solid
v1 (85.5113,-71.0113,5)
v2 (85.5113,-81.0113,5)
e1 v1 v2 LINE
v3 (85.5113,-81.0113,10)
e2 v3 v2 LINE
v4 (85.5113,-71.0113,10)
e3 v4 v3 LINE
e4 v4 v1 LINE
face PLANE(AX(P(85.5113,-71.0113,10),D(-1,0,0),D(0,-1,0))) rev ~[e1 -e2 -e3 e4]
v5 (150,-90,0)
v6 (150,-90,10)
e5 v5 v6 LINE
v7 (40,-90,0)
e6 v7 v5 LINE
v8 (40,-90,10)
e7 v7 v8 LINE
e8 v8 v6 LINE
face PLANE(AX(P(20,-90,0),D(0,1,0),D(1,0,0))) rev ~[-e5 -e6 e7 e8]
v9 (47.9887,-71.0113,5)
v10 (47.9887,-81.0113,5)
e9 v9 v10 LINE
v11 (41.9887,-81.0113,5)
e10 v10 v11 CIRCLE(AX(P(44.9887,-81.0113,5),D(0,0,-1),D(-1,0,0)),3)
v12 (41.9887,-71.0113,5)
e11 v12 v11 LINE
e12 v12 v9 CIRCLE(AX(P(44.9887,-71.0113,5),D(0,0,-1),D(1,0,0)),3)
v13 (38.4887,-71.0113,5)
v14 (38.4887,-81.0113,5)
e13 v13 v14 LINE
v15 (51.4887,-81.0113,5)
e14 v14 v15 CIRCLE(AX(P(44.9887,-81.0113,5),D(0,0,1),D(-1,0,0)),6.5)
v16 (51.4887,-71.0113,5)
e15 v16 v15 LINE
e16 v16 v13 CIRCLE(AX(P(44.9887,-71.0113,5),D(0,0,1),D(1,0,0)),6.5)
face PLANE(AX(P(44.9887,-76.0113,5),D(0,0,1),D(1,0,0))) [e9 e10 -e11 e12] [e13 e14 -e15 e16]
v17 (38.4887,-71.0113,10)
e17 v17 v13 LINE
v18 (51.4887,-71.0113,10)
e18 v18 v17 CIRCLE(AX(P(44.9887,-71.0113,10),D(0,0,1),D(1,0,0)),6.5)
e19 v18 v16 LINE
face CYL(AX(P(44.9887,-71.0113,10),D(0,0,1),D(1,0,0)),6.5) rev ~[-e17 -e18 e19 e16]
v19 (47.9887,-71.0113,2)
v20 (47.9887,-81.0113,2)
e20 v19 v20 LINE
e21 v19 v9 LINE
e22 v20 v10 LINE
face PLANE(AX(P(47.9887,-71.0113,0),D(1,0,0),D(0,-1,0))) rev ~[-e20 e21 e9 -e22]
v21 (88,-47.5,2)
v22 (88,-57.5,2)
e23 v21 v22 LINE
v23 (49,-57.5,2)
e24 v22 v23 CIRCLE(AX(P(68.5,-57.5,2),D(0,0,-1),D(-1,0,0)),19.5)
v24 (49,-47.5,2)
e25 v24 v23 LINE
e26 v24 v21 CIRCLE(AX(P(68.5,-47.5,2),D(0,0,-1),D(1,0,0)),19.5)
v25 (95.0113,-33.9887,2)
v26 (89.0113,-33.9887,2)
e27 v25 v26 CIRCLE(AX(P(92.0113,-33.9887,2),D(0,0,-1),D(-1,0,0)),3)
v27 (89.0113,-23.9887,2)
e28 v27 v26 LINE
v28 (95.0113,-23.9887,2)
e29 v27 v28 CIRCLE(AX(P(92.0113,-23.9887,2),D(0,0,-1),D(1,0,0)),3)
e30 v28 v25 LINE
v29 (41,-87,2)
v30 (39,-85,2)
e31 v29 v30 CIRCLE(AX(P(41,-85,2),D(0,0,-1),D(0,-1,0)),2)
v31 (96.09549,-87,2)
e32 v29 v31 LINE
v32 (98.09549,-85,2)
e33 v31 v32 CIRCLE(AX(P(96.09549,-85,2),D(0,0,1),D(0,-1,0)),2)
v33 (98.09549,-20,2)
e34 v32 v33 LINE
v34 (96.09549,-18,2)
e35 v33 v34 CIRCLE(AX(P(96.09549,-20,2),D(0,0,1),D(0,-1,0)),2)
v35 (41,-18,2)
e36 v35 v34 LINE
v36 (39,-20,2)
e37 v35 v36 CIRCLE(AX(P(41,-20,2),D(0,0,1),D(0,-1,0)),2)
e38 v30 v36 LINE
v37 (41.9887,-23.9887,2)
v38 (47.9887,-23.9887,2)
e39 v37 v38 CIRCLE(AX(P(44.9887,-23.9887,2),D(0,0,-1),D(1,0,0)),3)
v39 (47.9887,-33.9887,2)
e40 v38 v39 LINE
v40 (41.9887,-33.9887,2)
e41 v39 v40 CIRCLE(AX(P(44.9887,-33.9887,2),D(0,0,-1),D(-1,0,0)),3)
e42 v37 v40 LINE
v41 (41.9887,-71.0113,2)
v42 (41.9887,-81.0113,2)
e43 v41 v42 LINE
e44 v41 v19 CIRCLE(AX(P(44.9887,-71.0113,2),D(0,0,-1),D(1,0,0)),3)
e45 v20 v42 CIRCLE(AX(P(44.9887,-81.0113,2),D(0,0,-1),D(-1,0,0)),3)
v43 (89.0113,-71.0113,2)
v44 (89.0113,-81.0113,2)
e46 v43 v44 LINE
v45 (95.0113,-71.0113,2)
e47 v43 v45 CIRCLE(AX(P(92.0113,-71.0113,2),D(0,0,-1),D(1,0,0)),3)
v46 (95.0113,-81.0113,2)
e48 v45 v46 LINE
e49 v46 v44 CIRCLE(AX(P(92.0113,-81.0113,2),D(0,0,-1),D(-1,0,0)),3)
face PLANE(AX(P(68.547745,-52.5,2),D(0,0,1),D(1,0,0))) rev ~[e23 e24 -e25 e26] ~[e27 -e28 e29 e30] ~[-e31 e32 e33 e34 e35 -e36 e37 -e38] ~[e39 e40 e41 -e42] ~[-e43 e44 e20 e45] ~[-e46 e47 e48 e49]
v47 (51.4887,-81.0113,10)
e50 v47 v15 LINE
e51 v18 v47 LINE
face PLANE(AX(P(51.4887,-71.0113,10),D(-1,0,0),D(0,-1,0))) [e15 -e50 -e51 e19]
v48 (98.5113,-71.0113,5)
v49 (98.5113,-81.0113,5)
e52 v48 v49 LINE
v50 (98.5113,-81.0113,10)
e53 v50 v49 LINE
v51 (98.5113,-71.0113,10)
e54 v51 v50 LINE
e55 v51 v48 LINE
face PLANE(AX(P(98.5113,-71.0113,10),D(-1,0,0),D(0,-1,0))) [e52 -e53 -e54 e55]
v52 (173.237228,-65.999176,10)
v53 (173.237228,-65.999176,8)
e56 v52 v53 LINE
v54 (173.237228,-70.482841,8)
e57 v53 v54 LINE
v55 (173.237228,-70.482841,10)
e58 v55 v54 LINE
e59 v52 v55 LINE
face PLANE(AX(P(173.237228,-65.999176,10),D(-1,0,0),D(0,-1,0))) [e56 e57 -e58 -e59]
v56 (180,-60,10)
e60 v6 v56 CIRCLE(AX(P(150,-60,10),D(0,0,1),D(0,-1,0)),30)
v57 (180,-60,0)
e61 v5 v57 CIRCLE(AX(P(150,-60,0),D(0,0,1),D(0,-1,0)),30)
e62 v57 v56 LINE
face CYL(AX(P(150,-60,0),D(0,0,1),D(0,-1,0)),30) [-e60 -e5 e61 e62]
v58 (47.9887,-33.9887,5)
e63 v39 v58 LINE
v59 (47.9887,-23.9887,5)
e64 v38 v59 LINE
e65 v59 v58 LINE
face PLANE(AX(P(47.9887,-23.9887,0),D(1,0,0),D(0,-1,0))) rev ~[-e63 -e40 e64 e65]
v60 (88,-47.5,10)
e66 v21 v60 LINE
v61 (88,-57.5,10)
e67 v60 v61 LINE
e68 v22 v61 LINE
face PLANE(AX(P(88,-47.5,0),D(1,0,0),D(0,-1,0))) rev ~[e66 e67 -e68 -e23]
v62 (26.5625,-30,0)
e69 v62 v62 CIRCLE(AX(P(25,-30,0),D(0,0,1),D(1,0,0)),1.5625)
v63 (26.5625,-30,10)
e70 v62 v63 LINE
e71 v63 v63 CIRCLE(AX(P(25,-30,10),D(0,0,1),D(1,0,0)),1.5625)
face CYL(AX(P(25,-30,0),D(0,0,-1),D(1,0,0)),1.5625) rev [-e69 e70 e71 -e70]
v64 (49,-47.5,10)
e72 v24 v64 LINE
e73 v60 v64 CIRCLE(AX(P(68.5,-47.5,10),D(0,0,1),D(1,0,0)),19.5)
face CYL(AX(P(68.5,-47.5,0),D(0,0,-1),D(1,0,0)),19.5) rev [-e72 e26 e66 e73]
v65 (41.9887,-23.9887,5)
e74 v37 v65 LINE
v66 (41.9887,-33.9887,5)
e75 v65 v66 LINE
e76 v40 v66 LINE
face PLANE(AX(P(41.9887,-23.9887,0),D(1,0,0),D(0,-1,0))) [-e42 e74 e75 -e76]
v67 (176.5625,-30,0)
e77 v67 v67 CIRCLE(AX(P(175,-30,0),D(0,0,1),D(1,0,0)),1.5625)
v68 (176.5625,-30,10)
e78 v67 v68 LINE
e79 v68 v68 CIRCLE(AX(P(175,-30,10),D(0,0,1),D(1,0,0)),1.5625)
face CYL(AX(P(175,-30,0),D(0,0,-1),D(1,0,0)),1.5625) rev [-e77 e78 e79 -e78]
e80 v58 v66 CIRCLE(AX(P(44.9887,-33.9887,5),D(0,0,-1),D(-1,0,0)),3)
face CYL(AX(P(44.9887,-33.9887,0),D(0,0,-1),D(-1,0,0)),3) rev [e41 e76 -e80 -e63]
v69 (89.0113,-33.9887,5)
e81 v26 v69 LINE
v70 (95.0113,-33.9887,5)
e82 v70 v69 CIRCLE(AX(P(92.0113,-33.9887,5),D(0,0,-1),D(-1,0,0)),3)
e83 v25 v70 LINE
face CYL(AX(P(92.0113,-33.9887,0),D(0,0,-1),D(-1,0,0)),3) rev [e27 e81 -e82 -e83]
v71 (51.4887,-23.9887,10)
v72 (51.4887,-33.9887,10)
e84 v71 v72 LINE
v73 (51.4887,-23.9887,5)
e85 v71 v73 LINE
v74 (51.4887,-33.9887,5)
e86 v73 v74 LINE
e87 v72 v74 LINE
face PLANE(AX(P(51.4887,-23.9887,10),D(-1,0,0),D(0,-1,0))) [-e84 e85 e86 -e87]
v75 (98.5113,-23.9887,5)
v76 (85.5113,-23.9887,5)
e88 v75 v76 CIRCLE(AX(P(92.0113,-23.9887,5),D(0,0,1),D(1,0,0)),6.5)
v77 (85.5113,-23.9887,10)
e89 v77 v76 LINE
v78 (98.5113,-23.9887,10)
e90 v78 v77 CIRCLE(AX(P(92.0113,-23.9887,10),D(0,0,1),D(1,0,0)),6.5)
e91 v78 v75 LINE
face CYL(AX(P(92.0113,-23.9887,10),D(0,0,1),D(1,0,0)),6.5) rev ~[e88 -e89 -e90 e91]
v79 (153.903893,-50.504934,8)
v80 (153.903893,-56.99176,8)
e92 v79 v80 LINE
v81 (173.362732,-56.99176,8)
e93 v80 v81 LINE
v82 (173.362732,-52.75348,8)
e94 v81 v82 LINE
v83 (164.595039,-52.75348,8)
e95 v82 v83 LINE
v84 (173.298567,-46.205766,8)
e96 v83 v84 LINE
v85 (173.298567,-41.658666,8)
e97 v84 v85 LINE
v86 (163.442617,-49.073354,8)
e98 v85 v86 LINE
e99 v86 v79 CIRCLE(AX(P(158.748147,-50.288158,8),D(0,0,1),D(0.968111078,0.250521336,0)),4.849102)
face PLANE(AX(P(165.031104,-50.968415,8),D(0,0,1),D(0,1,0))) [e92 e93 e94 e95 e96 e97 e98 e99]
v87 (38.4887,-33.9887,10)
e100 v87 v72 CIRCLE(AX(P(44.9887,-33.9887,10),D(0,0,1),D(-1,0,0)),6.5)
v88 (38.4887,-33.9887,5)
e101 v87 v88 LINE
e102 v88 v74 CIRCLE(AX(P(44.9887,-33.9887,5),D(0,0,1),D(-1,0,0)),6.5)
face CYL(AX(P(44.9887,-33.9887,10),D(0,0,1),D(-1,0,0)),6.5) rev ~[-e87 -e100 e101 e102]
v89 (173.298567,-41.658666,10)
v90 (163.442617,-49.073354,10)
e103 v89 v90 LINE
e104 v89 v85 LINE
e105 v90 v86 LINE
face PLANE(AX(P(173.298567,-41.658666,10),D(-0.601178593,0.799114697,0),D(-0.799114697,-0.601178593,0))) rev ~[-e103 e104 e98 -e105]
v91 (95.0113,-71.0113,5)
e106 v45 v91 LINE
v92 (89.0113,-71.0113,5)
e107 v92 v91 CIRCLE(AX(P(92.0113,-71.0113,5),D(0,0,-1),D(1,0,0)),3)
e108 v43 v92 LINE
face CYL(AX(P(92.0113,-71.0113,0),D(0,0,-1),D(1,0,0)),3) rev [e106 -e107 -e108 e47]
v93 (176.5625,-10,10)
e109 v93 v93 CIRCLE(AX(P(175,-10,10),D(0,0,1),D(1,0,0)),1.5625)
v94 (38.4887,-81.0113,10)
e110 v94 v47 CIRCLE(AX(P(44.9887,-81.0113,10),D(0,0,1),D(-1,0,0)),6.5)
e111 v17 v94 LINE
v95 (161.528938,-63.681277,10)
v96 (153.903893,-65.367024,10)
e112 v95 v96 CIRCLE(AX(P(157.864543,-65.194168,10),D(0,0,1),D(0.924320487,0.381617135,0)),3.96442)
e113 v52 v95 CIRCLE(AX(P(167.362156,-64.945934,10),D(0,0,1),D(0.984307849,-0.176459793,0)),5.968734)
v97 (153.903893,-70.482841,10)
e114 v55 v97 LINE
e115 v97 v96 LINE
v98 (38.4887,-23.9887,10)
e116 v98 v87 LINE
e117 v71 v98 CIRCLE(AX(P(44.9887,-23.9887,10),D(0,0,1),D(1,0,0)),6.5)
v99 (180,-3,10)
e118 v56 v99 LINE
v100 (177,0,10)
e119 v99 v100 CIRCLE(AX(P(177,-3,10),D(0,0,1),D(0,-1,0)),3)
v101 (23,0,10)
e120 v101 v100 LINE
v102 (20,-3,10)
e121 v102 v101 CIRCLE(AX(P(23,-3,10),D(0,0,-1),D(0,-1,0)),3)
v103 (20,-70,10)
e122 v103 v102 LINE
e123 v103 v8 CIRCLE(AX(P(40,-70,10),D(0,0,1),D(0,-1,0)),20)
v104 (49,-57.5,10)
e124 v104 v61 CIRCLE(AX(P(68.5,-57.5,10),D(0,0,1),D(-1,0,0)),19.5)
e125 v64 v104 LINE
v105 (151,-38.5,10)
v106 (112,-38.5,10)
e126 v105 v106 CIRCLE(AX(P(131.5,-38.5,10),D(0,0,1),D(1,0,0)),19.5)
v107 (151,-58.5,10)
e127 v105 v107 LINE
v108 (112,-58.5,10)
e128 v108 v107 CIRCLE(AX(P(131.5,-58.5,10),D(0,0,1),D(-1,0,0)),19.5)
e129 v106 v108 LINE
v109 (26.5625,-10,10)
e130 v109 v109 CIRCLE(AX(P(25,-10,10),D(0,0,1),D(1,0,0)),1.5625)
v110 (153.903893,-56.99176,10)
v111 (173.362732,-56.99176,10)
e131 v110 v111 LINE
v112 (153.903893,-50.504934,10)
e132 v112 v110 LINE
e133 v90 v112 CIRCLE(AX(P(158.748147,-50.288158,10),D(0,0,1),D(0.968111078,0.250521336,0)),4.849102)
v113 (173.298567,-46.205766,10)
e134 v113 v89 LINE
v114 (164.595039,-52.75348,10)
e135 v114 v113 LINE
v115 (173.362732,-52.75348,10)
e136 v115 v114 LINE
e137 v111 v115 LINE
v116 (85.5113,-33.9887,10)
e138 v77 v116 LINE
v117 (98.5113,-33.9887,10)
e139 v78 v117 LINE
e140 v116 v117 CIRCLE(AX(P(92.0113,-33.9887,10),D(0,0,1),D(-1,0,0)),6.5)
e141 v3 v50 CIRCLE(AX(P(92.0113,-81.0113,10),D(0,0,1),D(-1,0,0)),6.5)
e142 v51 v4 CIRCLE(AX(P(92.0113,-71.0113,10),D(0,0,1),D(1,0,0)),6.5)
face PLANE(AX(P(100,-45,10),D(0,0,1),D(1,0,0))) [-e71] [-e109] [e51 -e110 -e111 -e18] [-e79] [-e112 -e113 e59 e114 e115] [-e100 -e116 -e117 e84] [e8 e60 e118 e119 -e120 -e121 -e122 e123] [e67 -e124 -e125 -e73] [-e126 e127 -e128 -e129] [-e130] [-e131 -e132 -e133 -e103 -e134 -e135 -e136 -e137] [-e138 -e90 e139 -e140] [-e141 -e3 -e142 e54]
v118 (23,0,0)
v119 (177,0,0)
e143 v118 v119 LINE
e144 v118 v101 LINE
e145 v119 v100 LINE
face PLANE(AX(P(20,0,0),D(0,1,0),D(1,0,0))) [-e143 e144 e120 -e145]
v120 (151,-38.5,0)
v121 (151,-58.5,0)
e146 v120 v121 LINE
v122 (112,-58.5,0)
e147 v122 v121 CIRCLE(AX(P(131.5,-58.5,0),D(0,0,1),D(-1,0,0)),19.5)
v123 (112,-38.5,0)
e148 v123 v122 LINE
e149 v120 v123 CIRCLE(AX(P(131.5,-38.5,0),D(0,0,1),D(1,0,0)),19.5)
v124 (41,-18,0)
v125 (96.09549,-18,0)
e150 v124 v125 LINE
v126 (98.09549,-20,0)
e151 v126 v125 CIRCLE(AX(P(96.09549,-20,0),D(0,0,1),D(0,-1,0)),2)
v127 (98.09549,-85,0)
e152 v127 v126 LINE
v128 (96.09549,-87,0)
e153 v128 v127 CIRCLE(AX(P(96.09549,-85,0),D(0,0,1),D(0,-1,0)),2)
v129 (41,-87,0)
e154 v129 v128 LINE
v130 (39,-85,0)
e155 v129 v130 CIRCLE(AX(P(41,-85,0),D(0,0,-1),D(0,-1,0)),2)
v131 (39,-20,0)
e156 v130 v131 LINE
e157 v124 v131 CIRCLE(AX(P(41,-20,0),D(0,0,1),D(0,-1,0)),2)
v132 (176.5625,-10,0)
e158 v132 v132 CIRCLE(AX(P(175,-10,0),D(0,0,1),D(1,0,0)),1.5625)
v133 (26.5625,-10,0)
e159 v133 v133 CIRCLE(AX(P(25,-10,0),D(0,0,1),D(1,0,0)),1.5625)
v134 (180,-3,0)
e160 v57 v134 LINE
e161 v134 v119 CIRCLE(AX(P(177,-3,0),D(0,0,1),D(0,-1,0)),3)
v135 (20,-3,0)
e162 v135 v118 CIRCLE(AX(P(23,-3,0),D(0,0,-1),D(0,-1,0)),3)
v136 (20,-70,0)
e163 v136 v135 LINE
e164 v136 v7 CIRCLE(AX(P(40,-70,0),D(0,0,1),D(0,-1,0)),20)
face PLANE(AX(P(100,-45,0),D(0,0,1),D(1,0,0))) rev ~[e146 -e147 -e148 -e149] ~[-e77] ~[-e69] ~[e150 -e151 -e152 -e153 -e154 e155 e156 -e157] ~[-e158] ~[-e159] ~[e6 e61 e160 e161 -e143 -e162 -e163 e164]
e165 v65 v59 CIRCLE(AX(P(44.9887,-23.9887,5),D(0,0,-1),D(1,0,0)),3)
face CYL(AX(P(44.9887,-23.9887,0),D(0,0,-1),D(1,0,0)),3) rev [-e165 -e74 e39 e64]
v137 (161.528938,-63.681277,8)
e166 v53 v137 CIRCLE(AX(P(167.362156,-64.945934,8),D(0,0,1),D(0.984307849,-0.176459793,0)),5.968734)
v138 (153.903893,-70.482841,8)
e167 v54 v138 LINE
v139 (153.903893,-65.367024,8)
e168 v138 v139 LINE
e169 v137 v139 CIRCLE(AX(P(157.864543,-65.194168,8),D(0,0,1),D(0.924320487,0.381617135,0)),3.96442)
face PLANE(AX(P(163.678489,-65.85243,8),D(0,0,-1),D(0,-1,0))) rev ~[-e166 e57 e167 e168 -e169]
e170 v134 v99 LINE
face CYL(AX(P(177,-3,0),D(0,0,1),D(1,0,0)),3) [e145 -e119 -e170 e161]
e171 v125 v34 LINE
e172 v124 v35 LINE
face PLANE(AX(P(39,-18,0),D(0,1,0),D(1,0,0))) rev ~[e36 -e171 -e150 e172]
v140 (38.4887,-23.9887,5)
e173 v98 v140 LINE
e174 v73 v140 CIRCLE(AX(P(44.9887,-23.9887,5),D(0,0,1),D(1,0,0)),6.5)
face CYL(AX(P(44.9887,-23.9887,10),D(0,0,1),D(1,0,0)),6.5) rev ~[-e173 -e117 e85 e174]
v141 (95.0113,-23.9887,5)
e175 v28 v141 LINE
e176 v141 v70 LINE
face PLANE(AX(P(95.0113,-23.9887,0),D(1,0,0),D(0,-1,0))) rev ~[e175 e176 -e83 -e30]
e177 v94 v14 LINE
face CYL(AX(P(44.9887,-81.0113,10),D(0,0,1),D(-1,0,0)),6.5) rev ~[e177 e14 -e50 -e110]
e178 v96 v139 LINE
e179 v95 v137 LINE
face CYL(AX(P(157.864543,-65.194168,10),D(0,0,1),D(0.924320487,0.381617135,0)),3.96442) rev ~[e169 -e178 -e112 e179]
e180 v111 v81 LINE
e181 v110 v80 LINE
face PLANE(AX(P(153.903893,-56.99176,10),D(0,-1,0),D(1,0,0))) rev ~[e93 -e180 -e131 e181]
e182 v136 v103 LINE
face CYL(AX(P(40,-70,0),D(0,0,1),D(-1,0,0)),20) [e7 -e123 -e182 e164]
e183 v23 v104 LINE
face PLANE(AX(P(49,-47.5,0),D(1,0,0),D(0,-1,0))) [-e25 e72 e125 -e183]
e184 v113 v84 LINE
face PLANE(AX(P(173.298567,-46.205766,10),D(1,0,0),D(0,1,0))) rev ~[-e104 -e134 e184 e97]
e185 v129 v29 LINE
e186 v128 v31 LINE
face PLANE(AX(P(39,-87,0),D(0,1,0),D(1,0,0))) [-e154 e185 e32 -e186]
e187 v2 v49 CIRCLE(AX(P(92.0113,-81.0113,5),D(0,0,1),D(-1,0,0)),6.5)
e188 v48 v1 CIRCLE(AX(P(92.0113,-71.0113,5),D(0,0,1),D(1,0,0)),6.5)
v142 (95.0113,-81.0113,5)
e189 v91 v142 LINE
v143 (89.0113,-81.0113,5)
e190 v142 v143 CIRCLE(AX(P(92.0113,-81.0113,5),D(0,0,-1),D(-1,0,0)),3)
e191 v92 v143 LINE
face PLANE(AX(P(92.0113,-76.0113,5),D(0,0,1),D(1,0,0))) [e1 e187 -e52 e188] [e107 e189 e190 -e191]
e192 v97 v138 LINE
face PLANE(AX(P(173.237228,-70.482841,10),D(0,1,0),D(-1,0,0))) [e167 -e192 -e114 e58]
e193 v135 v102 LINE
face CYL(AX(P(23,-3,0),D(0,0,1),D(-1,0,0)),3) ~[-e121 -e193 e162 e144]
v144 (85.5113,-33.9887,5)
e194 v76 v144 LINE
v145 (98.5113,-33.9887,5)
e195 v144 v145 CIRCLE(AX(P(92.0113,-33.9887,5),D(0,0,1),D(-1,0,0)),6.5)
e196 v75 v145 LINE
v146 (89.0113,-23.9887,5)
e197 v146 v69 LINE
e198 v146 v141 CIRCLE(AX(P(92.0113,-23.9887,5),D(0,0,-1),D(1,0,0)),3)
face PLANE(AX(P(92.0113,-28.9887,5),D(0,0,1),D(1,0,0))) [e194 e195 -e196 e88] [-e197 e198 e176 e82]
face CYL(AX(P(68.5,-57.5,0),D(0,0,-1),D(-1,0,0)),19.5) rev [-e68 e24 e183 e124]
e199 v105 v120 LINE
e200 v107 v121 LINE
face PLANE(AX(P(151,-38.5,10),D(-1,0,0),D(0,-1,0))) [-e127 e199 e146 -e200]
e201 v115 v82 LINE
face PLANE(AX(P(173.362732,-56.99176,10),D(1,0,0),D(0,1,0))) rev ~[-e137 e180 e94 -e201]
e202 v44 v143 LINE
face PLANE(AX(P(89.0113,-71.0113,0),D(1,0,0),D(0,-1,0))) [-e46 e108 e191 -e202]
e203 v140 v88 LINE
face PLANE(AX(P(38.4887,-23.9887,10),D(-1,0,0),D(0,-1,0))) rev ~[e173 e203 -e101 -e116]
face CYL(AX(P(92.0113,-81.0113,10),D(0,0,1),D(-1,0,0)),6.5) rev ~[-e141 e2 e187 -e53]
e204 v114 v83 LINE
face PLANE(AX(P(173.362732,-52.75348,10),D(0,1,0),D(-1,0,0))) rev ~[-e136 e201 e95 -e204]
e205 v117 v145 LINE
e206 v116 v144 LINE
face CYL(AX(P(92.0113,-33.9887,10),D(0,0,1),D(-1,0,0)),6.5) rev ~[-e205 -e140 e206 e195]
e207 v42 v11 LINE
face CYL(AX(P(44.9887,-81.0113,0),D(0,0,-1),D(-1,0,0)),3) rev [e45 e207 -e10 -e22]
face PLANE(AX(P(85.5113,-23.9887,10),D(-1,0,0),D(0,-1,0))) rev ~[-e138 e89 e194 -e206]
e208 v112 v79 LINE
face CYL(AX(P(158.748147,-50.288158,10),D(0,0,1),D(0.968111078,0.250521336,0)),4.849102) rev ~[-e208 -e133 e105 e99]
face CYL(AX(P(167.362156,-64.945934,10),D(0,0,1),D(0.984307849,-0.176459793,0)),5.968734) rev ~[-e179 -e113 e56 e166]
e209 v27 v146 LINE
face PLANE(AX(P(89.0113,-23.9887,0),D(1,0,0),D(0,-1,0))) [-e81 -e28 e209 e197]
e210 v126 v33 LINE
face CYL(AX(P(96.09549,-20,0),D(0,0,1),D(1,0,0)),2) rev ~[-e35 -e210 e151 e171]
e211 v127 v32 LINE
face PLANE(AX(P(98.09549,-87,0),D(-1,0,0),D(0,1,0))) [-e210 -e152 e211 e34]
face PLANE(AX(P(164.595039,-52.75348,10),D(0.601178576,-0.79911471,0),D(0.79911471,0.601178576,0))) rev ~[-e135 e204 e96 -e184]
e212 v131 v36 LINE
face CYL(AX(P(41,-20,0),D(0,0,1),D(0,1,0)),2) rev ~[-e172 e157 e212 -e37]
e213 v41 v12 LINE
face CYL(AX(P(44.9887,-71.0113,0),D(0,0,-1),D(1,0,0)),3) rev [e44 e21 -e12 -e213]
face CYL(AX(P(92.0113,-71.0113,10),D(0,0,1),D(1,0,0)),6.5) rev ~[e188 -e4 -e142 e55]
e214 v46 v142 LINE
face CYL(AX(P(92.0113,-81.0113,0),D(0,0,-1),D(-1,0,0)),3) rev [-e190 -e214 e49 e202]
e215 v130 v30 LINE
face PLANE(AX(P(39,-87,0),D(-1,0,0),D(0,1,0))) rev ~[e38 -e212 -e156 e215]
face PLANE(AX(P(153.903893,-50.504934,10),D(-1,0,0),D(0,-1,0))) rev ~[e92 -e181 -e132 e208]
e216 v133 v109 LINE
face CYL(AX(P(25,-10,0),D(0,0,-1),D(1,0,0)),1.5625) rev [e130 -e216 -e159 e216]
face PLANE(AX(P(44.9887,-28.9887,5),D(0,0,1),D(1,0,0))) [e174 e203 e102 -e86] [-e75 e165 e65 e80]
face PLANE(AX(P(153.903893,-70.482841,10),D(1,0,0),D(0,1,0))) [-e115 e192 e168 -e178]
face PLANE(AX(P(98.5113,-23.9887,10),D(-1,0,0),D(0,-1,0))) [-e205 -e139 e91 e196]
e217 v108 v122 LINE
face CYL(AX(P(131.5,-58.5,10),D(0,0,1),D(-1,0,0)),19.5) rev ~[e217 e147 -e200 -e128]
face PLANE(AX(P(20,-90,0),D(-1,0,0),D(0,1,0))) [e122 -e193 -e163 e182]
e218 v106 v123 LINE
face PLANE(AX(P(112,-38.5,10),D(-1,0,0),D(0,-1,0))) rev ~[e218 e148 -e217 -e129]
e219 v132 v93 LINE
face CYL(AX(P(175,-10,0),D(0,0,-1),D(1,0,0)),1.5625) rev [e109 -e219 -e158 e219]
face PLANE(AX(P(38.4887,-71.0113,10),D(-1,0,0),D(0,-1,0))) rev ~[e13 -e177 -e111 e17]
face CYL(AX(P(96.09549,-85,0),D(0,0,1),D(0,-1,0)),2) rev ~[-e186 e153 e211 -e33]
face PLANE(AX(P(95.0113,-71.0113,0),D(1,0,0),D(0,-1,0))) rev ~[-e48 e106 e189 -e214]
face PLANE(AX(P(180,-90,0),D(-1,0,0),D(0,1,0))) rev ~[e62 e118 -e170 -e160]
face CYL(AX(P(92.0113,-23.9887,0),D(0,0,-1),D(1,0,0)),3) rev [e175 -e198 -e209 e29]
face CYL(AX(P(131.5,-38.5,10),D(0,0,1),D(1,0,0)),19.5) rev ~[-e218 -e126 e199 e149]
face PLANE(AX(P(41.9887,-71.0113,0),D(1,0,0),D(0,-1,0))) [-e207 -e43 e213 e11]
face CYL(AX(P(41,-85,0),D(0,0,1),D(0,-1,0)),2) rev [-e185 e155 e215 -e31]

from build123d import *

# Parameters (mm, degrees)
SKETCH_W        = 160
SKETCH_H        = 90
SKETCH_R        = 1.5625
PAD_DEPTH       = 10
POCKET_DEPTH    = 5
FILLET_R        = 20
FILLET001_R     = 30
POCKET001_DEPTH = 10.001
FILLET002_R     = 3
SKETCH003_W     = 59.09549
SKETCH003_H     = 69
POCKET002_DEPTH = 2
FILLET003_R     = 2
POCKET003_DEPTH = 2


with BuildPart() as part:
    # Sketch → Pad (new body)
    with BuildSketch(Plane.XY):
        with Locations((100, -45)):
            Rectangle(SKETCH_W, SKETCH_H)
        with Locations((175, -10)):
            Circle(SKETCH_R, mode=Mode.SUBTRACT)
        with Locations((175, -30)):
            Circle(SKETCH_R, mode=Mode.SUBTRACT)
        with Locations((25, -10)):
            Circle(SKETCH_R, mode=Mode.SUBTRACT)
        with Locations((25, -30)):
            Circle(SKETCH_R, mode=Mode.SUBTRACT)
        with BuildLine():
            ThreePointArc((95.0113, -23.9887), (92.0113, -20.9887), (89.0113, -23.9887))
            Line((89.0113, -23.9887), (89.0113, -33.9887))
            ThreePointArc((89.0113, -33.9887), (92.0113, -36.9887), (95.0113, -33.9887))
            Line((95.0113, -23.9887), (95.0113, -33.9887))
        make_face(mode=Mode.SUBTRACT)
        with BuildLine():
            ThreePointArc((88, -47.5), (68.5, -28), (49, -47.5))
            Line((49, -47.5), (49, -57.5))
            ThreePointArc((49, -57.5), (68.5, -77), (88, -57.5))
            Line((88, -47.5), (88, -57.5))
        make_face(mode=Mode.SUBTRACT)
        with BuildLine():
            ThreePointArc((95.0113, -71.0113), (92.0113, -68.0113), (89.0113, -71.0113))
            Line((89.0113, -71.0113), (89.0113, -81.0113))
            ThreePointArc((89.0113, -81.0113), (92.0113, -84.0113), (95.0113, -81.0113))
            Line((95.0113, -71.0113), (95.0113, -81.0113))
        make_face(mode=Mode.SUBTRACT)
        with BuildLine():
            ThreePointArc((47.9887, -71.0113), (44.9887, -68.0113), (41.9887, -71.0113))
            Line((41.9887, -71.0113), (41.9887, -81.0113))
            ThreePointArc((41.9887, -81.0113), (44.9887, -84.0113), (47.9887, -81.0113))
            Line((47.9887, -71.0113), (47.9887, -81.0113))
        make_face(mode=Mode.SUBTRACT)
        with BuildLine():
            ThreePointArc((47.9887, -23.9887), (44.9887, -20.9887), (41.9887, -23.9887))
            Line((41.9887, -23.9887), (41.9887, -33.9887))
            ThreePointArc((41.9887, -33.9887), (44.9887, -36.9887), (47.9887, -33.9887))
            Line((47.9887, -23.9887), (47.9887, -33.9887))
        make_face(mode=Mode.SUBTRACT)
    extrude(amount=PAD_DEPTH)

    # Sketch001 (on Face30 of Pad) → Pocket (cut)
    with BuildSketch(Plane.XY.offset(10)):
        with BuildLine():
            ThreePointArc((98.5113, -23.9887), (92.0113, -17.4887), (85.5113, -23.9887))
            Line((85.5113, -23.9887), (85.5113, -33.9887))
            ThreePointArc((85.5113, -33.9887), (92.0113, -40.4887), (98.5113, -33.9887))
            Line((98.5113, -23.9887), (98.5113, -33.9887))
        make_face()
        with BuildLine():
            ThreePointArc((51.4887, -23.9887), (44.9887, -17.4887), (38.4887, -23.9887))
            Line((38.4887, -23.9887), (38.4887, -33.9887))
            ThreePointArc((38.4887, -33.9887), (44.9887, -40.4887), (51.4887, -33.9887))
            Line((51.4887, -23.9887), (51.4887, -33.9887))
        make_face()
        with BuildLine():
            ThreePointArc((98.5113, -71.0113), (92.0113, -64.5113), (85.5113, -71.0113))
            Line((85.5113, -71.0113), (85.5113, -81.0113))
            ThreePointArc((85.5113, -81.0113), (92.0113, -87.5113), (98.5113, -81.0113))
            Line((98.5113, -71.0113), (98.5113, -81.0113))
        make_face()
        with BuildLine():
            ThreePointArc((51.4887, -71.0113), (44.9887, -64.5113), (38.4887, -71.0113))
            Line((38.4887, -71.0113), (38.4887, -81.0113))
            ThreePointArc((38.4887, -81.0113), (44.9887, -87.5113), (51.4887, -81.0113))
            Line((51.4887, -71.0113), (51.4887, -81.0113))
        make_face()
    extrude(amount=-POCKET_DEPTH, mode=Mode.SUBTRACT)

    # Fillet
    fillet_edges = [part.edges().sort_by_distance(p)[0] for p in [
        (20, -90, 5),
    ]]
    fillet(fillet_edges, radius=FILLET_R)

    # Fillet001
    fillet001_edges = [part.edges().sort_by_distance(p)[0] for p in [
        (180, -90, 5),
    ]]
    fillet(fillet001_edges, radius=FILLET001_R)

    # Sketch002 → Pocket001 (cut, through all)
    with BuildSketch(Plane.XY.offset(10)):
        with BuildLine():
            ThreePointArc((151, -38.5), (131.5, -19), (112, -38.5))
            Line((112, -38.5), (112, -58.5))
            ThreePointArc((112, -58.5), (131.5, -78), (151, -58.5))
            Line((151, -38.5), (151, -58.5))
        make_face()
    extrude(amount=-POCKET001_DEPTH, mode=Mode.SUBTRACT)

    # Fillet002
    fillet002_edges = [part.edges().sort_by_distance(p)[0] for p in [
        (20, 0, 5),
        (180, 0, 5),
    ]]
    fillet(fillet002_edges, radius=FILLET002_R)

    # Sketch003 (on Face38 of Fillet002) → Pocket002 (cut)
    with BuildSketch(Plane.XY):
        with Locations((68.547745, -52.5)):
            Rectangle(SKETCH003_W, SKETCH003_H)
    extrude(amount=POCKET002_DEPTH, mode=Mode.SUBTRACT)

    # Fillet003
    fillet003_edges = [part.edges().sort_by_distance(p)[0] for p in [
        (98.09549, -18, 1),
        (39, -18, 1),
        (39, -87, 1),
        (98.09549, -87, 1),
    ]]
    fillet(fillet003_edges, radius=FILLET003_R)

    # Sketch004 (on Face27 of Fillet003) → Pocket003 (cut)
    with BuildSketch(Plane(origin=(37, -216, 10), x_dir=(0, 1, 0), z_dir=(0, 0, 1))):
        with BuildLine():
            Line((145.517159, -116.903893), (150.632976, -116.903893))
            ThreePointArc((152.318723, -124.528938), (154.676782, -120.008753), (150.632976, -116.903893))
            ThreePointArc((150.000824, -136.237228), (156.909165, -131.521294), (152.318723, -124.528938))
            Line((150.000824, -136.237228), (145.517159, -136.237228))
            Line((145.517159, -136.237228), (145.517159, -116.903893))
        make_face()
        with BuildLine():
            Line((165.495066, -116.903893), (159.00824, -116.903893))
            Line((159.00824, -116.903893), (159.00824, -136.362732))
            Line((159.00824, -136.362732), (163.24652, -136.362732))
            Line((163.24652, -136.362732), (163.24652, -127.595039))
            Line((163.24652, -127.595039), (169.794234, -136.298567))
            Line((169.794234, -136.298567), (174.341334, -136.298567))
            Line((174.341334, -136.298567), (166.926646, -126.442617))
            ThreePointArc((166.926646, -126.442617), (170.507239, -121.02845), (165.495066, -116.903893))
        make_face()
    extrude(amount=-POCKET003_DEPTH, mode=Mode.SUBTRACT)


solid = part.part
